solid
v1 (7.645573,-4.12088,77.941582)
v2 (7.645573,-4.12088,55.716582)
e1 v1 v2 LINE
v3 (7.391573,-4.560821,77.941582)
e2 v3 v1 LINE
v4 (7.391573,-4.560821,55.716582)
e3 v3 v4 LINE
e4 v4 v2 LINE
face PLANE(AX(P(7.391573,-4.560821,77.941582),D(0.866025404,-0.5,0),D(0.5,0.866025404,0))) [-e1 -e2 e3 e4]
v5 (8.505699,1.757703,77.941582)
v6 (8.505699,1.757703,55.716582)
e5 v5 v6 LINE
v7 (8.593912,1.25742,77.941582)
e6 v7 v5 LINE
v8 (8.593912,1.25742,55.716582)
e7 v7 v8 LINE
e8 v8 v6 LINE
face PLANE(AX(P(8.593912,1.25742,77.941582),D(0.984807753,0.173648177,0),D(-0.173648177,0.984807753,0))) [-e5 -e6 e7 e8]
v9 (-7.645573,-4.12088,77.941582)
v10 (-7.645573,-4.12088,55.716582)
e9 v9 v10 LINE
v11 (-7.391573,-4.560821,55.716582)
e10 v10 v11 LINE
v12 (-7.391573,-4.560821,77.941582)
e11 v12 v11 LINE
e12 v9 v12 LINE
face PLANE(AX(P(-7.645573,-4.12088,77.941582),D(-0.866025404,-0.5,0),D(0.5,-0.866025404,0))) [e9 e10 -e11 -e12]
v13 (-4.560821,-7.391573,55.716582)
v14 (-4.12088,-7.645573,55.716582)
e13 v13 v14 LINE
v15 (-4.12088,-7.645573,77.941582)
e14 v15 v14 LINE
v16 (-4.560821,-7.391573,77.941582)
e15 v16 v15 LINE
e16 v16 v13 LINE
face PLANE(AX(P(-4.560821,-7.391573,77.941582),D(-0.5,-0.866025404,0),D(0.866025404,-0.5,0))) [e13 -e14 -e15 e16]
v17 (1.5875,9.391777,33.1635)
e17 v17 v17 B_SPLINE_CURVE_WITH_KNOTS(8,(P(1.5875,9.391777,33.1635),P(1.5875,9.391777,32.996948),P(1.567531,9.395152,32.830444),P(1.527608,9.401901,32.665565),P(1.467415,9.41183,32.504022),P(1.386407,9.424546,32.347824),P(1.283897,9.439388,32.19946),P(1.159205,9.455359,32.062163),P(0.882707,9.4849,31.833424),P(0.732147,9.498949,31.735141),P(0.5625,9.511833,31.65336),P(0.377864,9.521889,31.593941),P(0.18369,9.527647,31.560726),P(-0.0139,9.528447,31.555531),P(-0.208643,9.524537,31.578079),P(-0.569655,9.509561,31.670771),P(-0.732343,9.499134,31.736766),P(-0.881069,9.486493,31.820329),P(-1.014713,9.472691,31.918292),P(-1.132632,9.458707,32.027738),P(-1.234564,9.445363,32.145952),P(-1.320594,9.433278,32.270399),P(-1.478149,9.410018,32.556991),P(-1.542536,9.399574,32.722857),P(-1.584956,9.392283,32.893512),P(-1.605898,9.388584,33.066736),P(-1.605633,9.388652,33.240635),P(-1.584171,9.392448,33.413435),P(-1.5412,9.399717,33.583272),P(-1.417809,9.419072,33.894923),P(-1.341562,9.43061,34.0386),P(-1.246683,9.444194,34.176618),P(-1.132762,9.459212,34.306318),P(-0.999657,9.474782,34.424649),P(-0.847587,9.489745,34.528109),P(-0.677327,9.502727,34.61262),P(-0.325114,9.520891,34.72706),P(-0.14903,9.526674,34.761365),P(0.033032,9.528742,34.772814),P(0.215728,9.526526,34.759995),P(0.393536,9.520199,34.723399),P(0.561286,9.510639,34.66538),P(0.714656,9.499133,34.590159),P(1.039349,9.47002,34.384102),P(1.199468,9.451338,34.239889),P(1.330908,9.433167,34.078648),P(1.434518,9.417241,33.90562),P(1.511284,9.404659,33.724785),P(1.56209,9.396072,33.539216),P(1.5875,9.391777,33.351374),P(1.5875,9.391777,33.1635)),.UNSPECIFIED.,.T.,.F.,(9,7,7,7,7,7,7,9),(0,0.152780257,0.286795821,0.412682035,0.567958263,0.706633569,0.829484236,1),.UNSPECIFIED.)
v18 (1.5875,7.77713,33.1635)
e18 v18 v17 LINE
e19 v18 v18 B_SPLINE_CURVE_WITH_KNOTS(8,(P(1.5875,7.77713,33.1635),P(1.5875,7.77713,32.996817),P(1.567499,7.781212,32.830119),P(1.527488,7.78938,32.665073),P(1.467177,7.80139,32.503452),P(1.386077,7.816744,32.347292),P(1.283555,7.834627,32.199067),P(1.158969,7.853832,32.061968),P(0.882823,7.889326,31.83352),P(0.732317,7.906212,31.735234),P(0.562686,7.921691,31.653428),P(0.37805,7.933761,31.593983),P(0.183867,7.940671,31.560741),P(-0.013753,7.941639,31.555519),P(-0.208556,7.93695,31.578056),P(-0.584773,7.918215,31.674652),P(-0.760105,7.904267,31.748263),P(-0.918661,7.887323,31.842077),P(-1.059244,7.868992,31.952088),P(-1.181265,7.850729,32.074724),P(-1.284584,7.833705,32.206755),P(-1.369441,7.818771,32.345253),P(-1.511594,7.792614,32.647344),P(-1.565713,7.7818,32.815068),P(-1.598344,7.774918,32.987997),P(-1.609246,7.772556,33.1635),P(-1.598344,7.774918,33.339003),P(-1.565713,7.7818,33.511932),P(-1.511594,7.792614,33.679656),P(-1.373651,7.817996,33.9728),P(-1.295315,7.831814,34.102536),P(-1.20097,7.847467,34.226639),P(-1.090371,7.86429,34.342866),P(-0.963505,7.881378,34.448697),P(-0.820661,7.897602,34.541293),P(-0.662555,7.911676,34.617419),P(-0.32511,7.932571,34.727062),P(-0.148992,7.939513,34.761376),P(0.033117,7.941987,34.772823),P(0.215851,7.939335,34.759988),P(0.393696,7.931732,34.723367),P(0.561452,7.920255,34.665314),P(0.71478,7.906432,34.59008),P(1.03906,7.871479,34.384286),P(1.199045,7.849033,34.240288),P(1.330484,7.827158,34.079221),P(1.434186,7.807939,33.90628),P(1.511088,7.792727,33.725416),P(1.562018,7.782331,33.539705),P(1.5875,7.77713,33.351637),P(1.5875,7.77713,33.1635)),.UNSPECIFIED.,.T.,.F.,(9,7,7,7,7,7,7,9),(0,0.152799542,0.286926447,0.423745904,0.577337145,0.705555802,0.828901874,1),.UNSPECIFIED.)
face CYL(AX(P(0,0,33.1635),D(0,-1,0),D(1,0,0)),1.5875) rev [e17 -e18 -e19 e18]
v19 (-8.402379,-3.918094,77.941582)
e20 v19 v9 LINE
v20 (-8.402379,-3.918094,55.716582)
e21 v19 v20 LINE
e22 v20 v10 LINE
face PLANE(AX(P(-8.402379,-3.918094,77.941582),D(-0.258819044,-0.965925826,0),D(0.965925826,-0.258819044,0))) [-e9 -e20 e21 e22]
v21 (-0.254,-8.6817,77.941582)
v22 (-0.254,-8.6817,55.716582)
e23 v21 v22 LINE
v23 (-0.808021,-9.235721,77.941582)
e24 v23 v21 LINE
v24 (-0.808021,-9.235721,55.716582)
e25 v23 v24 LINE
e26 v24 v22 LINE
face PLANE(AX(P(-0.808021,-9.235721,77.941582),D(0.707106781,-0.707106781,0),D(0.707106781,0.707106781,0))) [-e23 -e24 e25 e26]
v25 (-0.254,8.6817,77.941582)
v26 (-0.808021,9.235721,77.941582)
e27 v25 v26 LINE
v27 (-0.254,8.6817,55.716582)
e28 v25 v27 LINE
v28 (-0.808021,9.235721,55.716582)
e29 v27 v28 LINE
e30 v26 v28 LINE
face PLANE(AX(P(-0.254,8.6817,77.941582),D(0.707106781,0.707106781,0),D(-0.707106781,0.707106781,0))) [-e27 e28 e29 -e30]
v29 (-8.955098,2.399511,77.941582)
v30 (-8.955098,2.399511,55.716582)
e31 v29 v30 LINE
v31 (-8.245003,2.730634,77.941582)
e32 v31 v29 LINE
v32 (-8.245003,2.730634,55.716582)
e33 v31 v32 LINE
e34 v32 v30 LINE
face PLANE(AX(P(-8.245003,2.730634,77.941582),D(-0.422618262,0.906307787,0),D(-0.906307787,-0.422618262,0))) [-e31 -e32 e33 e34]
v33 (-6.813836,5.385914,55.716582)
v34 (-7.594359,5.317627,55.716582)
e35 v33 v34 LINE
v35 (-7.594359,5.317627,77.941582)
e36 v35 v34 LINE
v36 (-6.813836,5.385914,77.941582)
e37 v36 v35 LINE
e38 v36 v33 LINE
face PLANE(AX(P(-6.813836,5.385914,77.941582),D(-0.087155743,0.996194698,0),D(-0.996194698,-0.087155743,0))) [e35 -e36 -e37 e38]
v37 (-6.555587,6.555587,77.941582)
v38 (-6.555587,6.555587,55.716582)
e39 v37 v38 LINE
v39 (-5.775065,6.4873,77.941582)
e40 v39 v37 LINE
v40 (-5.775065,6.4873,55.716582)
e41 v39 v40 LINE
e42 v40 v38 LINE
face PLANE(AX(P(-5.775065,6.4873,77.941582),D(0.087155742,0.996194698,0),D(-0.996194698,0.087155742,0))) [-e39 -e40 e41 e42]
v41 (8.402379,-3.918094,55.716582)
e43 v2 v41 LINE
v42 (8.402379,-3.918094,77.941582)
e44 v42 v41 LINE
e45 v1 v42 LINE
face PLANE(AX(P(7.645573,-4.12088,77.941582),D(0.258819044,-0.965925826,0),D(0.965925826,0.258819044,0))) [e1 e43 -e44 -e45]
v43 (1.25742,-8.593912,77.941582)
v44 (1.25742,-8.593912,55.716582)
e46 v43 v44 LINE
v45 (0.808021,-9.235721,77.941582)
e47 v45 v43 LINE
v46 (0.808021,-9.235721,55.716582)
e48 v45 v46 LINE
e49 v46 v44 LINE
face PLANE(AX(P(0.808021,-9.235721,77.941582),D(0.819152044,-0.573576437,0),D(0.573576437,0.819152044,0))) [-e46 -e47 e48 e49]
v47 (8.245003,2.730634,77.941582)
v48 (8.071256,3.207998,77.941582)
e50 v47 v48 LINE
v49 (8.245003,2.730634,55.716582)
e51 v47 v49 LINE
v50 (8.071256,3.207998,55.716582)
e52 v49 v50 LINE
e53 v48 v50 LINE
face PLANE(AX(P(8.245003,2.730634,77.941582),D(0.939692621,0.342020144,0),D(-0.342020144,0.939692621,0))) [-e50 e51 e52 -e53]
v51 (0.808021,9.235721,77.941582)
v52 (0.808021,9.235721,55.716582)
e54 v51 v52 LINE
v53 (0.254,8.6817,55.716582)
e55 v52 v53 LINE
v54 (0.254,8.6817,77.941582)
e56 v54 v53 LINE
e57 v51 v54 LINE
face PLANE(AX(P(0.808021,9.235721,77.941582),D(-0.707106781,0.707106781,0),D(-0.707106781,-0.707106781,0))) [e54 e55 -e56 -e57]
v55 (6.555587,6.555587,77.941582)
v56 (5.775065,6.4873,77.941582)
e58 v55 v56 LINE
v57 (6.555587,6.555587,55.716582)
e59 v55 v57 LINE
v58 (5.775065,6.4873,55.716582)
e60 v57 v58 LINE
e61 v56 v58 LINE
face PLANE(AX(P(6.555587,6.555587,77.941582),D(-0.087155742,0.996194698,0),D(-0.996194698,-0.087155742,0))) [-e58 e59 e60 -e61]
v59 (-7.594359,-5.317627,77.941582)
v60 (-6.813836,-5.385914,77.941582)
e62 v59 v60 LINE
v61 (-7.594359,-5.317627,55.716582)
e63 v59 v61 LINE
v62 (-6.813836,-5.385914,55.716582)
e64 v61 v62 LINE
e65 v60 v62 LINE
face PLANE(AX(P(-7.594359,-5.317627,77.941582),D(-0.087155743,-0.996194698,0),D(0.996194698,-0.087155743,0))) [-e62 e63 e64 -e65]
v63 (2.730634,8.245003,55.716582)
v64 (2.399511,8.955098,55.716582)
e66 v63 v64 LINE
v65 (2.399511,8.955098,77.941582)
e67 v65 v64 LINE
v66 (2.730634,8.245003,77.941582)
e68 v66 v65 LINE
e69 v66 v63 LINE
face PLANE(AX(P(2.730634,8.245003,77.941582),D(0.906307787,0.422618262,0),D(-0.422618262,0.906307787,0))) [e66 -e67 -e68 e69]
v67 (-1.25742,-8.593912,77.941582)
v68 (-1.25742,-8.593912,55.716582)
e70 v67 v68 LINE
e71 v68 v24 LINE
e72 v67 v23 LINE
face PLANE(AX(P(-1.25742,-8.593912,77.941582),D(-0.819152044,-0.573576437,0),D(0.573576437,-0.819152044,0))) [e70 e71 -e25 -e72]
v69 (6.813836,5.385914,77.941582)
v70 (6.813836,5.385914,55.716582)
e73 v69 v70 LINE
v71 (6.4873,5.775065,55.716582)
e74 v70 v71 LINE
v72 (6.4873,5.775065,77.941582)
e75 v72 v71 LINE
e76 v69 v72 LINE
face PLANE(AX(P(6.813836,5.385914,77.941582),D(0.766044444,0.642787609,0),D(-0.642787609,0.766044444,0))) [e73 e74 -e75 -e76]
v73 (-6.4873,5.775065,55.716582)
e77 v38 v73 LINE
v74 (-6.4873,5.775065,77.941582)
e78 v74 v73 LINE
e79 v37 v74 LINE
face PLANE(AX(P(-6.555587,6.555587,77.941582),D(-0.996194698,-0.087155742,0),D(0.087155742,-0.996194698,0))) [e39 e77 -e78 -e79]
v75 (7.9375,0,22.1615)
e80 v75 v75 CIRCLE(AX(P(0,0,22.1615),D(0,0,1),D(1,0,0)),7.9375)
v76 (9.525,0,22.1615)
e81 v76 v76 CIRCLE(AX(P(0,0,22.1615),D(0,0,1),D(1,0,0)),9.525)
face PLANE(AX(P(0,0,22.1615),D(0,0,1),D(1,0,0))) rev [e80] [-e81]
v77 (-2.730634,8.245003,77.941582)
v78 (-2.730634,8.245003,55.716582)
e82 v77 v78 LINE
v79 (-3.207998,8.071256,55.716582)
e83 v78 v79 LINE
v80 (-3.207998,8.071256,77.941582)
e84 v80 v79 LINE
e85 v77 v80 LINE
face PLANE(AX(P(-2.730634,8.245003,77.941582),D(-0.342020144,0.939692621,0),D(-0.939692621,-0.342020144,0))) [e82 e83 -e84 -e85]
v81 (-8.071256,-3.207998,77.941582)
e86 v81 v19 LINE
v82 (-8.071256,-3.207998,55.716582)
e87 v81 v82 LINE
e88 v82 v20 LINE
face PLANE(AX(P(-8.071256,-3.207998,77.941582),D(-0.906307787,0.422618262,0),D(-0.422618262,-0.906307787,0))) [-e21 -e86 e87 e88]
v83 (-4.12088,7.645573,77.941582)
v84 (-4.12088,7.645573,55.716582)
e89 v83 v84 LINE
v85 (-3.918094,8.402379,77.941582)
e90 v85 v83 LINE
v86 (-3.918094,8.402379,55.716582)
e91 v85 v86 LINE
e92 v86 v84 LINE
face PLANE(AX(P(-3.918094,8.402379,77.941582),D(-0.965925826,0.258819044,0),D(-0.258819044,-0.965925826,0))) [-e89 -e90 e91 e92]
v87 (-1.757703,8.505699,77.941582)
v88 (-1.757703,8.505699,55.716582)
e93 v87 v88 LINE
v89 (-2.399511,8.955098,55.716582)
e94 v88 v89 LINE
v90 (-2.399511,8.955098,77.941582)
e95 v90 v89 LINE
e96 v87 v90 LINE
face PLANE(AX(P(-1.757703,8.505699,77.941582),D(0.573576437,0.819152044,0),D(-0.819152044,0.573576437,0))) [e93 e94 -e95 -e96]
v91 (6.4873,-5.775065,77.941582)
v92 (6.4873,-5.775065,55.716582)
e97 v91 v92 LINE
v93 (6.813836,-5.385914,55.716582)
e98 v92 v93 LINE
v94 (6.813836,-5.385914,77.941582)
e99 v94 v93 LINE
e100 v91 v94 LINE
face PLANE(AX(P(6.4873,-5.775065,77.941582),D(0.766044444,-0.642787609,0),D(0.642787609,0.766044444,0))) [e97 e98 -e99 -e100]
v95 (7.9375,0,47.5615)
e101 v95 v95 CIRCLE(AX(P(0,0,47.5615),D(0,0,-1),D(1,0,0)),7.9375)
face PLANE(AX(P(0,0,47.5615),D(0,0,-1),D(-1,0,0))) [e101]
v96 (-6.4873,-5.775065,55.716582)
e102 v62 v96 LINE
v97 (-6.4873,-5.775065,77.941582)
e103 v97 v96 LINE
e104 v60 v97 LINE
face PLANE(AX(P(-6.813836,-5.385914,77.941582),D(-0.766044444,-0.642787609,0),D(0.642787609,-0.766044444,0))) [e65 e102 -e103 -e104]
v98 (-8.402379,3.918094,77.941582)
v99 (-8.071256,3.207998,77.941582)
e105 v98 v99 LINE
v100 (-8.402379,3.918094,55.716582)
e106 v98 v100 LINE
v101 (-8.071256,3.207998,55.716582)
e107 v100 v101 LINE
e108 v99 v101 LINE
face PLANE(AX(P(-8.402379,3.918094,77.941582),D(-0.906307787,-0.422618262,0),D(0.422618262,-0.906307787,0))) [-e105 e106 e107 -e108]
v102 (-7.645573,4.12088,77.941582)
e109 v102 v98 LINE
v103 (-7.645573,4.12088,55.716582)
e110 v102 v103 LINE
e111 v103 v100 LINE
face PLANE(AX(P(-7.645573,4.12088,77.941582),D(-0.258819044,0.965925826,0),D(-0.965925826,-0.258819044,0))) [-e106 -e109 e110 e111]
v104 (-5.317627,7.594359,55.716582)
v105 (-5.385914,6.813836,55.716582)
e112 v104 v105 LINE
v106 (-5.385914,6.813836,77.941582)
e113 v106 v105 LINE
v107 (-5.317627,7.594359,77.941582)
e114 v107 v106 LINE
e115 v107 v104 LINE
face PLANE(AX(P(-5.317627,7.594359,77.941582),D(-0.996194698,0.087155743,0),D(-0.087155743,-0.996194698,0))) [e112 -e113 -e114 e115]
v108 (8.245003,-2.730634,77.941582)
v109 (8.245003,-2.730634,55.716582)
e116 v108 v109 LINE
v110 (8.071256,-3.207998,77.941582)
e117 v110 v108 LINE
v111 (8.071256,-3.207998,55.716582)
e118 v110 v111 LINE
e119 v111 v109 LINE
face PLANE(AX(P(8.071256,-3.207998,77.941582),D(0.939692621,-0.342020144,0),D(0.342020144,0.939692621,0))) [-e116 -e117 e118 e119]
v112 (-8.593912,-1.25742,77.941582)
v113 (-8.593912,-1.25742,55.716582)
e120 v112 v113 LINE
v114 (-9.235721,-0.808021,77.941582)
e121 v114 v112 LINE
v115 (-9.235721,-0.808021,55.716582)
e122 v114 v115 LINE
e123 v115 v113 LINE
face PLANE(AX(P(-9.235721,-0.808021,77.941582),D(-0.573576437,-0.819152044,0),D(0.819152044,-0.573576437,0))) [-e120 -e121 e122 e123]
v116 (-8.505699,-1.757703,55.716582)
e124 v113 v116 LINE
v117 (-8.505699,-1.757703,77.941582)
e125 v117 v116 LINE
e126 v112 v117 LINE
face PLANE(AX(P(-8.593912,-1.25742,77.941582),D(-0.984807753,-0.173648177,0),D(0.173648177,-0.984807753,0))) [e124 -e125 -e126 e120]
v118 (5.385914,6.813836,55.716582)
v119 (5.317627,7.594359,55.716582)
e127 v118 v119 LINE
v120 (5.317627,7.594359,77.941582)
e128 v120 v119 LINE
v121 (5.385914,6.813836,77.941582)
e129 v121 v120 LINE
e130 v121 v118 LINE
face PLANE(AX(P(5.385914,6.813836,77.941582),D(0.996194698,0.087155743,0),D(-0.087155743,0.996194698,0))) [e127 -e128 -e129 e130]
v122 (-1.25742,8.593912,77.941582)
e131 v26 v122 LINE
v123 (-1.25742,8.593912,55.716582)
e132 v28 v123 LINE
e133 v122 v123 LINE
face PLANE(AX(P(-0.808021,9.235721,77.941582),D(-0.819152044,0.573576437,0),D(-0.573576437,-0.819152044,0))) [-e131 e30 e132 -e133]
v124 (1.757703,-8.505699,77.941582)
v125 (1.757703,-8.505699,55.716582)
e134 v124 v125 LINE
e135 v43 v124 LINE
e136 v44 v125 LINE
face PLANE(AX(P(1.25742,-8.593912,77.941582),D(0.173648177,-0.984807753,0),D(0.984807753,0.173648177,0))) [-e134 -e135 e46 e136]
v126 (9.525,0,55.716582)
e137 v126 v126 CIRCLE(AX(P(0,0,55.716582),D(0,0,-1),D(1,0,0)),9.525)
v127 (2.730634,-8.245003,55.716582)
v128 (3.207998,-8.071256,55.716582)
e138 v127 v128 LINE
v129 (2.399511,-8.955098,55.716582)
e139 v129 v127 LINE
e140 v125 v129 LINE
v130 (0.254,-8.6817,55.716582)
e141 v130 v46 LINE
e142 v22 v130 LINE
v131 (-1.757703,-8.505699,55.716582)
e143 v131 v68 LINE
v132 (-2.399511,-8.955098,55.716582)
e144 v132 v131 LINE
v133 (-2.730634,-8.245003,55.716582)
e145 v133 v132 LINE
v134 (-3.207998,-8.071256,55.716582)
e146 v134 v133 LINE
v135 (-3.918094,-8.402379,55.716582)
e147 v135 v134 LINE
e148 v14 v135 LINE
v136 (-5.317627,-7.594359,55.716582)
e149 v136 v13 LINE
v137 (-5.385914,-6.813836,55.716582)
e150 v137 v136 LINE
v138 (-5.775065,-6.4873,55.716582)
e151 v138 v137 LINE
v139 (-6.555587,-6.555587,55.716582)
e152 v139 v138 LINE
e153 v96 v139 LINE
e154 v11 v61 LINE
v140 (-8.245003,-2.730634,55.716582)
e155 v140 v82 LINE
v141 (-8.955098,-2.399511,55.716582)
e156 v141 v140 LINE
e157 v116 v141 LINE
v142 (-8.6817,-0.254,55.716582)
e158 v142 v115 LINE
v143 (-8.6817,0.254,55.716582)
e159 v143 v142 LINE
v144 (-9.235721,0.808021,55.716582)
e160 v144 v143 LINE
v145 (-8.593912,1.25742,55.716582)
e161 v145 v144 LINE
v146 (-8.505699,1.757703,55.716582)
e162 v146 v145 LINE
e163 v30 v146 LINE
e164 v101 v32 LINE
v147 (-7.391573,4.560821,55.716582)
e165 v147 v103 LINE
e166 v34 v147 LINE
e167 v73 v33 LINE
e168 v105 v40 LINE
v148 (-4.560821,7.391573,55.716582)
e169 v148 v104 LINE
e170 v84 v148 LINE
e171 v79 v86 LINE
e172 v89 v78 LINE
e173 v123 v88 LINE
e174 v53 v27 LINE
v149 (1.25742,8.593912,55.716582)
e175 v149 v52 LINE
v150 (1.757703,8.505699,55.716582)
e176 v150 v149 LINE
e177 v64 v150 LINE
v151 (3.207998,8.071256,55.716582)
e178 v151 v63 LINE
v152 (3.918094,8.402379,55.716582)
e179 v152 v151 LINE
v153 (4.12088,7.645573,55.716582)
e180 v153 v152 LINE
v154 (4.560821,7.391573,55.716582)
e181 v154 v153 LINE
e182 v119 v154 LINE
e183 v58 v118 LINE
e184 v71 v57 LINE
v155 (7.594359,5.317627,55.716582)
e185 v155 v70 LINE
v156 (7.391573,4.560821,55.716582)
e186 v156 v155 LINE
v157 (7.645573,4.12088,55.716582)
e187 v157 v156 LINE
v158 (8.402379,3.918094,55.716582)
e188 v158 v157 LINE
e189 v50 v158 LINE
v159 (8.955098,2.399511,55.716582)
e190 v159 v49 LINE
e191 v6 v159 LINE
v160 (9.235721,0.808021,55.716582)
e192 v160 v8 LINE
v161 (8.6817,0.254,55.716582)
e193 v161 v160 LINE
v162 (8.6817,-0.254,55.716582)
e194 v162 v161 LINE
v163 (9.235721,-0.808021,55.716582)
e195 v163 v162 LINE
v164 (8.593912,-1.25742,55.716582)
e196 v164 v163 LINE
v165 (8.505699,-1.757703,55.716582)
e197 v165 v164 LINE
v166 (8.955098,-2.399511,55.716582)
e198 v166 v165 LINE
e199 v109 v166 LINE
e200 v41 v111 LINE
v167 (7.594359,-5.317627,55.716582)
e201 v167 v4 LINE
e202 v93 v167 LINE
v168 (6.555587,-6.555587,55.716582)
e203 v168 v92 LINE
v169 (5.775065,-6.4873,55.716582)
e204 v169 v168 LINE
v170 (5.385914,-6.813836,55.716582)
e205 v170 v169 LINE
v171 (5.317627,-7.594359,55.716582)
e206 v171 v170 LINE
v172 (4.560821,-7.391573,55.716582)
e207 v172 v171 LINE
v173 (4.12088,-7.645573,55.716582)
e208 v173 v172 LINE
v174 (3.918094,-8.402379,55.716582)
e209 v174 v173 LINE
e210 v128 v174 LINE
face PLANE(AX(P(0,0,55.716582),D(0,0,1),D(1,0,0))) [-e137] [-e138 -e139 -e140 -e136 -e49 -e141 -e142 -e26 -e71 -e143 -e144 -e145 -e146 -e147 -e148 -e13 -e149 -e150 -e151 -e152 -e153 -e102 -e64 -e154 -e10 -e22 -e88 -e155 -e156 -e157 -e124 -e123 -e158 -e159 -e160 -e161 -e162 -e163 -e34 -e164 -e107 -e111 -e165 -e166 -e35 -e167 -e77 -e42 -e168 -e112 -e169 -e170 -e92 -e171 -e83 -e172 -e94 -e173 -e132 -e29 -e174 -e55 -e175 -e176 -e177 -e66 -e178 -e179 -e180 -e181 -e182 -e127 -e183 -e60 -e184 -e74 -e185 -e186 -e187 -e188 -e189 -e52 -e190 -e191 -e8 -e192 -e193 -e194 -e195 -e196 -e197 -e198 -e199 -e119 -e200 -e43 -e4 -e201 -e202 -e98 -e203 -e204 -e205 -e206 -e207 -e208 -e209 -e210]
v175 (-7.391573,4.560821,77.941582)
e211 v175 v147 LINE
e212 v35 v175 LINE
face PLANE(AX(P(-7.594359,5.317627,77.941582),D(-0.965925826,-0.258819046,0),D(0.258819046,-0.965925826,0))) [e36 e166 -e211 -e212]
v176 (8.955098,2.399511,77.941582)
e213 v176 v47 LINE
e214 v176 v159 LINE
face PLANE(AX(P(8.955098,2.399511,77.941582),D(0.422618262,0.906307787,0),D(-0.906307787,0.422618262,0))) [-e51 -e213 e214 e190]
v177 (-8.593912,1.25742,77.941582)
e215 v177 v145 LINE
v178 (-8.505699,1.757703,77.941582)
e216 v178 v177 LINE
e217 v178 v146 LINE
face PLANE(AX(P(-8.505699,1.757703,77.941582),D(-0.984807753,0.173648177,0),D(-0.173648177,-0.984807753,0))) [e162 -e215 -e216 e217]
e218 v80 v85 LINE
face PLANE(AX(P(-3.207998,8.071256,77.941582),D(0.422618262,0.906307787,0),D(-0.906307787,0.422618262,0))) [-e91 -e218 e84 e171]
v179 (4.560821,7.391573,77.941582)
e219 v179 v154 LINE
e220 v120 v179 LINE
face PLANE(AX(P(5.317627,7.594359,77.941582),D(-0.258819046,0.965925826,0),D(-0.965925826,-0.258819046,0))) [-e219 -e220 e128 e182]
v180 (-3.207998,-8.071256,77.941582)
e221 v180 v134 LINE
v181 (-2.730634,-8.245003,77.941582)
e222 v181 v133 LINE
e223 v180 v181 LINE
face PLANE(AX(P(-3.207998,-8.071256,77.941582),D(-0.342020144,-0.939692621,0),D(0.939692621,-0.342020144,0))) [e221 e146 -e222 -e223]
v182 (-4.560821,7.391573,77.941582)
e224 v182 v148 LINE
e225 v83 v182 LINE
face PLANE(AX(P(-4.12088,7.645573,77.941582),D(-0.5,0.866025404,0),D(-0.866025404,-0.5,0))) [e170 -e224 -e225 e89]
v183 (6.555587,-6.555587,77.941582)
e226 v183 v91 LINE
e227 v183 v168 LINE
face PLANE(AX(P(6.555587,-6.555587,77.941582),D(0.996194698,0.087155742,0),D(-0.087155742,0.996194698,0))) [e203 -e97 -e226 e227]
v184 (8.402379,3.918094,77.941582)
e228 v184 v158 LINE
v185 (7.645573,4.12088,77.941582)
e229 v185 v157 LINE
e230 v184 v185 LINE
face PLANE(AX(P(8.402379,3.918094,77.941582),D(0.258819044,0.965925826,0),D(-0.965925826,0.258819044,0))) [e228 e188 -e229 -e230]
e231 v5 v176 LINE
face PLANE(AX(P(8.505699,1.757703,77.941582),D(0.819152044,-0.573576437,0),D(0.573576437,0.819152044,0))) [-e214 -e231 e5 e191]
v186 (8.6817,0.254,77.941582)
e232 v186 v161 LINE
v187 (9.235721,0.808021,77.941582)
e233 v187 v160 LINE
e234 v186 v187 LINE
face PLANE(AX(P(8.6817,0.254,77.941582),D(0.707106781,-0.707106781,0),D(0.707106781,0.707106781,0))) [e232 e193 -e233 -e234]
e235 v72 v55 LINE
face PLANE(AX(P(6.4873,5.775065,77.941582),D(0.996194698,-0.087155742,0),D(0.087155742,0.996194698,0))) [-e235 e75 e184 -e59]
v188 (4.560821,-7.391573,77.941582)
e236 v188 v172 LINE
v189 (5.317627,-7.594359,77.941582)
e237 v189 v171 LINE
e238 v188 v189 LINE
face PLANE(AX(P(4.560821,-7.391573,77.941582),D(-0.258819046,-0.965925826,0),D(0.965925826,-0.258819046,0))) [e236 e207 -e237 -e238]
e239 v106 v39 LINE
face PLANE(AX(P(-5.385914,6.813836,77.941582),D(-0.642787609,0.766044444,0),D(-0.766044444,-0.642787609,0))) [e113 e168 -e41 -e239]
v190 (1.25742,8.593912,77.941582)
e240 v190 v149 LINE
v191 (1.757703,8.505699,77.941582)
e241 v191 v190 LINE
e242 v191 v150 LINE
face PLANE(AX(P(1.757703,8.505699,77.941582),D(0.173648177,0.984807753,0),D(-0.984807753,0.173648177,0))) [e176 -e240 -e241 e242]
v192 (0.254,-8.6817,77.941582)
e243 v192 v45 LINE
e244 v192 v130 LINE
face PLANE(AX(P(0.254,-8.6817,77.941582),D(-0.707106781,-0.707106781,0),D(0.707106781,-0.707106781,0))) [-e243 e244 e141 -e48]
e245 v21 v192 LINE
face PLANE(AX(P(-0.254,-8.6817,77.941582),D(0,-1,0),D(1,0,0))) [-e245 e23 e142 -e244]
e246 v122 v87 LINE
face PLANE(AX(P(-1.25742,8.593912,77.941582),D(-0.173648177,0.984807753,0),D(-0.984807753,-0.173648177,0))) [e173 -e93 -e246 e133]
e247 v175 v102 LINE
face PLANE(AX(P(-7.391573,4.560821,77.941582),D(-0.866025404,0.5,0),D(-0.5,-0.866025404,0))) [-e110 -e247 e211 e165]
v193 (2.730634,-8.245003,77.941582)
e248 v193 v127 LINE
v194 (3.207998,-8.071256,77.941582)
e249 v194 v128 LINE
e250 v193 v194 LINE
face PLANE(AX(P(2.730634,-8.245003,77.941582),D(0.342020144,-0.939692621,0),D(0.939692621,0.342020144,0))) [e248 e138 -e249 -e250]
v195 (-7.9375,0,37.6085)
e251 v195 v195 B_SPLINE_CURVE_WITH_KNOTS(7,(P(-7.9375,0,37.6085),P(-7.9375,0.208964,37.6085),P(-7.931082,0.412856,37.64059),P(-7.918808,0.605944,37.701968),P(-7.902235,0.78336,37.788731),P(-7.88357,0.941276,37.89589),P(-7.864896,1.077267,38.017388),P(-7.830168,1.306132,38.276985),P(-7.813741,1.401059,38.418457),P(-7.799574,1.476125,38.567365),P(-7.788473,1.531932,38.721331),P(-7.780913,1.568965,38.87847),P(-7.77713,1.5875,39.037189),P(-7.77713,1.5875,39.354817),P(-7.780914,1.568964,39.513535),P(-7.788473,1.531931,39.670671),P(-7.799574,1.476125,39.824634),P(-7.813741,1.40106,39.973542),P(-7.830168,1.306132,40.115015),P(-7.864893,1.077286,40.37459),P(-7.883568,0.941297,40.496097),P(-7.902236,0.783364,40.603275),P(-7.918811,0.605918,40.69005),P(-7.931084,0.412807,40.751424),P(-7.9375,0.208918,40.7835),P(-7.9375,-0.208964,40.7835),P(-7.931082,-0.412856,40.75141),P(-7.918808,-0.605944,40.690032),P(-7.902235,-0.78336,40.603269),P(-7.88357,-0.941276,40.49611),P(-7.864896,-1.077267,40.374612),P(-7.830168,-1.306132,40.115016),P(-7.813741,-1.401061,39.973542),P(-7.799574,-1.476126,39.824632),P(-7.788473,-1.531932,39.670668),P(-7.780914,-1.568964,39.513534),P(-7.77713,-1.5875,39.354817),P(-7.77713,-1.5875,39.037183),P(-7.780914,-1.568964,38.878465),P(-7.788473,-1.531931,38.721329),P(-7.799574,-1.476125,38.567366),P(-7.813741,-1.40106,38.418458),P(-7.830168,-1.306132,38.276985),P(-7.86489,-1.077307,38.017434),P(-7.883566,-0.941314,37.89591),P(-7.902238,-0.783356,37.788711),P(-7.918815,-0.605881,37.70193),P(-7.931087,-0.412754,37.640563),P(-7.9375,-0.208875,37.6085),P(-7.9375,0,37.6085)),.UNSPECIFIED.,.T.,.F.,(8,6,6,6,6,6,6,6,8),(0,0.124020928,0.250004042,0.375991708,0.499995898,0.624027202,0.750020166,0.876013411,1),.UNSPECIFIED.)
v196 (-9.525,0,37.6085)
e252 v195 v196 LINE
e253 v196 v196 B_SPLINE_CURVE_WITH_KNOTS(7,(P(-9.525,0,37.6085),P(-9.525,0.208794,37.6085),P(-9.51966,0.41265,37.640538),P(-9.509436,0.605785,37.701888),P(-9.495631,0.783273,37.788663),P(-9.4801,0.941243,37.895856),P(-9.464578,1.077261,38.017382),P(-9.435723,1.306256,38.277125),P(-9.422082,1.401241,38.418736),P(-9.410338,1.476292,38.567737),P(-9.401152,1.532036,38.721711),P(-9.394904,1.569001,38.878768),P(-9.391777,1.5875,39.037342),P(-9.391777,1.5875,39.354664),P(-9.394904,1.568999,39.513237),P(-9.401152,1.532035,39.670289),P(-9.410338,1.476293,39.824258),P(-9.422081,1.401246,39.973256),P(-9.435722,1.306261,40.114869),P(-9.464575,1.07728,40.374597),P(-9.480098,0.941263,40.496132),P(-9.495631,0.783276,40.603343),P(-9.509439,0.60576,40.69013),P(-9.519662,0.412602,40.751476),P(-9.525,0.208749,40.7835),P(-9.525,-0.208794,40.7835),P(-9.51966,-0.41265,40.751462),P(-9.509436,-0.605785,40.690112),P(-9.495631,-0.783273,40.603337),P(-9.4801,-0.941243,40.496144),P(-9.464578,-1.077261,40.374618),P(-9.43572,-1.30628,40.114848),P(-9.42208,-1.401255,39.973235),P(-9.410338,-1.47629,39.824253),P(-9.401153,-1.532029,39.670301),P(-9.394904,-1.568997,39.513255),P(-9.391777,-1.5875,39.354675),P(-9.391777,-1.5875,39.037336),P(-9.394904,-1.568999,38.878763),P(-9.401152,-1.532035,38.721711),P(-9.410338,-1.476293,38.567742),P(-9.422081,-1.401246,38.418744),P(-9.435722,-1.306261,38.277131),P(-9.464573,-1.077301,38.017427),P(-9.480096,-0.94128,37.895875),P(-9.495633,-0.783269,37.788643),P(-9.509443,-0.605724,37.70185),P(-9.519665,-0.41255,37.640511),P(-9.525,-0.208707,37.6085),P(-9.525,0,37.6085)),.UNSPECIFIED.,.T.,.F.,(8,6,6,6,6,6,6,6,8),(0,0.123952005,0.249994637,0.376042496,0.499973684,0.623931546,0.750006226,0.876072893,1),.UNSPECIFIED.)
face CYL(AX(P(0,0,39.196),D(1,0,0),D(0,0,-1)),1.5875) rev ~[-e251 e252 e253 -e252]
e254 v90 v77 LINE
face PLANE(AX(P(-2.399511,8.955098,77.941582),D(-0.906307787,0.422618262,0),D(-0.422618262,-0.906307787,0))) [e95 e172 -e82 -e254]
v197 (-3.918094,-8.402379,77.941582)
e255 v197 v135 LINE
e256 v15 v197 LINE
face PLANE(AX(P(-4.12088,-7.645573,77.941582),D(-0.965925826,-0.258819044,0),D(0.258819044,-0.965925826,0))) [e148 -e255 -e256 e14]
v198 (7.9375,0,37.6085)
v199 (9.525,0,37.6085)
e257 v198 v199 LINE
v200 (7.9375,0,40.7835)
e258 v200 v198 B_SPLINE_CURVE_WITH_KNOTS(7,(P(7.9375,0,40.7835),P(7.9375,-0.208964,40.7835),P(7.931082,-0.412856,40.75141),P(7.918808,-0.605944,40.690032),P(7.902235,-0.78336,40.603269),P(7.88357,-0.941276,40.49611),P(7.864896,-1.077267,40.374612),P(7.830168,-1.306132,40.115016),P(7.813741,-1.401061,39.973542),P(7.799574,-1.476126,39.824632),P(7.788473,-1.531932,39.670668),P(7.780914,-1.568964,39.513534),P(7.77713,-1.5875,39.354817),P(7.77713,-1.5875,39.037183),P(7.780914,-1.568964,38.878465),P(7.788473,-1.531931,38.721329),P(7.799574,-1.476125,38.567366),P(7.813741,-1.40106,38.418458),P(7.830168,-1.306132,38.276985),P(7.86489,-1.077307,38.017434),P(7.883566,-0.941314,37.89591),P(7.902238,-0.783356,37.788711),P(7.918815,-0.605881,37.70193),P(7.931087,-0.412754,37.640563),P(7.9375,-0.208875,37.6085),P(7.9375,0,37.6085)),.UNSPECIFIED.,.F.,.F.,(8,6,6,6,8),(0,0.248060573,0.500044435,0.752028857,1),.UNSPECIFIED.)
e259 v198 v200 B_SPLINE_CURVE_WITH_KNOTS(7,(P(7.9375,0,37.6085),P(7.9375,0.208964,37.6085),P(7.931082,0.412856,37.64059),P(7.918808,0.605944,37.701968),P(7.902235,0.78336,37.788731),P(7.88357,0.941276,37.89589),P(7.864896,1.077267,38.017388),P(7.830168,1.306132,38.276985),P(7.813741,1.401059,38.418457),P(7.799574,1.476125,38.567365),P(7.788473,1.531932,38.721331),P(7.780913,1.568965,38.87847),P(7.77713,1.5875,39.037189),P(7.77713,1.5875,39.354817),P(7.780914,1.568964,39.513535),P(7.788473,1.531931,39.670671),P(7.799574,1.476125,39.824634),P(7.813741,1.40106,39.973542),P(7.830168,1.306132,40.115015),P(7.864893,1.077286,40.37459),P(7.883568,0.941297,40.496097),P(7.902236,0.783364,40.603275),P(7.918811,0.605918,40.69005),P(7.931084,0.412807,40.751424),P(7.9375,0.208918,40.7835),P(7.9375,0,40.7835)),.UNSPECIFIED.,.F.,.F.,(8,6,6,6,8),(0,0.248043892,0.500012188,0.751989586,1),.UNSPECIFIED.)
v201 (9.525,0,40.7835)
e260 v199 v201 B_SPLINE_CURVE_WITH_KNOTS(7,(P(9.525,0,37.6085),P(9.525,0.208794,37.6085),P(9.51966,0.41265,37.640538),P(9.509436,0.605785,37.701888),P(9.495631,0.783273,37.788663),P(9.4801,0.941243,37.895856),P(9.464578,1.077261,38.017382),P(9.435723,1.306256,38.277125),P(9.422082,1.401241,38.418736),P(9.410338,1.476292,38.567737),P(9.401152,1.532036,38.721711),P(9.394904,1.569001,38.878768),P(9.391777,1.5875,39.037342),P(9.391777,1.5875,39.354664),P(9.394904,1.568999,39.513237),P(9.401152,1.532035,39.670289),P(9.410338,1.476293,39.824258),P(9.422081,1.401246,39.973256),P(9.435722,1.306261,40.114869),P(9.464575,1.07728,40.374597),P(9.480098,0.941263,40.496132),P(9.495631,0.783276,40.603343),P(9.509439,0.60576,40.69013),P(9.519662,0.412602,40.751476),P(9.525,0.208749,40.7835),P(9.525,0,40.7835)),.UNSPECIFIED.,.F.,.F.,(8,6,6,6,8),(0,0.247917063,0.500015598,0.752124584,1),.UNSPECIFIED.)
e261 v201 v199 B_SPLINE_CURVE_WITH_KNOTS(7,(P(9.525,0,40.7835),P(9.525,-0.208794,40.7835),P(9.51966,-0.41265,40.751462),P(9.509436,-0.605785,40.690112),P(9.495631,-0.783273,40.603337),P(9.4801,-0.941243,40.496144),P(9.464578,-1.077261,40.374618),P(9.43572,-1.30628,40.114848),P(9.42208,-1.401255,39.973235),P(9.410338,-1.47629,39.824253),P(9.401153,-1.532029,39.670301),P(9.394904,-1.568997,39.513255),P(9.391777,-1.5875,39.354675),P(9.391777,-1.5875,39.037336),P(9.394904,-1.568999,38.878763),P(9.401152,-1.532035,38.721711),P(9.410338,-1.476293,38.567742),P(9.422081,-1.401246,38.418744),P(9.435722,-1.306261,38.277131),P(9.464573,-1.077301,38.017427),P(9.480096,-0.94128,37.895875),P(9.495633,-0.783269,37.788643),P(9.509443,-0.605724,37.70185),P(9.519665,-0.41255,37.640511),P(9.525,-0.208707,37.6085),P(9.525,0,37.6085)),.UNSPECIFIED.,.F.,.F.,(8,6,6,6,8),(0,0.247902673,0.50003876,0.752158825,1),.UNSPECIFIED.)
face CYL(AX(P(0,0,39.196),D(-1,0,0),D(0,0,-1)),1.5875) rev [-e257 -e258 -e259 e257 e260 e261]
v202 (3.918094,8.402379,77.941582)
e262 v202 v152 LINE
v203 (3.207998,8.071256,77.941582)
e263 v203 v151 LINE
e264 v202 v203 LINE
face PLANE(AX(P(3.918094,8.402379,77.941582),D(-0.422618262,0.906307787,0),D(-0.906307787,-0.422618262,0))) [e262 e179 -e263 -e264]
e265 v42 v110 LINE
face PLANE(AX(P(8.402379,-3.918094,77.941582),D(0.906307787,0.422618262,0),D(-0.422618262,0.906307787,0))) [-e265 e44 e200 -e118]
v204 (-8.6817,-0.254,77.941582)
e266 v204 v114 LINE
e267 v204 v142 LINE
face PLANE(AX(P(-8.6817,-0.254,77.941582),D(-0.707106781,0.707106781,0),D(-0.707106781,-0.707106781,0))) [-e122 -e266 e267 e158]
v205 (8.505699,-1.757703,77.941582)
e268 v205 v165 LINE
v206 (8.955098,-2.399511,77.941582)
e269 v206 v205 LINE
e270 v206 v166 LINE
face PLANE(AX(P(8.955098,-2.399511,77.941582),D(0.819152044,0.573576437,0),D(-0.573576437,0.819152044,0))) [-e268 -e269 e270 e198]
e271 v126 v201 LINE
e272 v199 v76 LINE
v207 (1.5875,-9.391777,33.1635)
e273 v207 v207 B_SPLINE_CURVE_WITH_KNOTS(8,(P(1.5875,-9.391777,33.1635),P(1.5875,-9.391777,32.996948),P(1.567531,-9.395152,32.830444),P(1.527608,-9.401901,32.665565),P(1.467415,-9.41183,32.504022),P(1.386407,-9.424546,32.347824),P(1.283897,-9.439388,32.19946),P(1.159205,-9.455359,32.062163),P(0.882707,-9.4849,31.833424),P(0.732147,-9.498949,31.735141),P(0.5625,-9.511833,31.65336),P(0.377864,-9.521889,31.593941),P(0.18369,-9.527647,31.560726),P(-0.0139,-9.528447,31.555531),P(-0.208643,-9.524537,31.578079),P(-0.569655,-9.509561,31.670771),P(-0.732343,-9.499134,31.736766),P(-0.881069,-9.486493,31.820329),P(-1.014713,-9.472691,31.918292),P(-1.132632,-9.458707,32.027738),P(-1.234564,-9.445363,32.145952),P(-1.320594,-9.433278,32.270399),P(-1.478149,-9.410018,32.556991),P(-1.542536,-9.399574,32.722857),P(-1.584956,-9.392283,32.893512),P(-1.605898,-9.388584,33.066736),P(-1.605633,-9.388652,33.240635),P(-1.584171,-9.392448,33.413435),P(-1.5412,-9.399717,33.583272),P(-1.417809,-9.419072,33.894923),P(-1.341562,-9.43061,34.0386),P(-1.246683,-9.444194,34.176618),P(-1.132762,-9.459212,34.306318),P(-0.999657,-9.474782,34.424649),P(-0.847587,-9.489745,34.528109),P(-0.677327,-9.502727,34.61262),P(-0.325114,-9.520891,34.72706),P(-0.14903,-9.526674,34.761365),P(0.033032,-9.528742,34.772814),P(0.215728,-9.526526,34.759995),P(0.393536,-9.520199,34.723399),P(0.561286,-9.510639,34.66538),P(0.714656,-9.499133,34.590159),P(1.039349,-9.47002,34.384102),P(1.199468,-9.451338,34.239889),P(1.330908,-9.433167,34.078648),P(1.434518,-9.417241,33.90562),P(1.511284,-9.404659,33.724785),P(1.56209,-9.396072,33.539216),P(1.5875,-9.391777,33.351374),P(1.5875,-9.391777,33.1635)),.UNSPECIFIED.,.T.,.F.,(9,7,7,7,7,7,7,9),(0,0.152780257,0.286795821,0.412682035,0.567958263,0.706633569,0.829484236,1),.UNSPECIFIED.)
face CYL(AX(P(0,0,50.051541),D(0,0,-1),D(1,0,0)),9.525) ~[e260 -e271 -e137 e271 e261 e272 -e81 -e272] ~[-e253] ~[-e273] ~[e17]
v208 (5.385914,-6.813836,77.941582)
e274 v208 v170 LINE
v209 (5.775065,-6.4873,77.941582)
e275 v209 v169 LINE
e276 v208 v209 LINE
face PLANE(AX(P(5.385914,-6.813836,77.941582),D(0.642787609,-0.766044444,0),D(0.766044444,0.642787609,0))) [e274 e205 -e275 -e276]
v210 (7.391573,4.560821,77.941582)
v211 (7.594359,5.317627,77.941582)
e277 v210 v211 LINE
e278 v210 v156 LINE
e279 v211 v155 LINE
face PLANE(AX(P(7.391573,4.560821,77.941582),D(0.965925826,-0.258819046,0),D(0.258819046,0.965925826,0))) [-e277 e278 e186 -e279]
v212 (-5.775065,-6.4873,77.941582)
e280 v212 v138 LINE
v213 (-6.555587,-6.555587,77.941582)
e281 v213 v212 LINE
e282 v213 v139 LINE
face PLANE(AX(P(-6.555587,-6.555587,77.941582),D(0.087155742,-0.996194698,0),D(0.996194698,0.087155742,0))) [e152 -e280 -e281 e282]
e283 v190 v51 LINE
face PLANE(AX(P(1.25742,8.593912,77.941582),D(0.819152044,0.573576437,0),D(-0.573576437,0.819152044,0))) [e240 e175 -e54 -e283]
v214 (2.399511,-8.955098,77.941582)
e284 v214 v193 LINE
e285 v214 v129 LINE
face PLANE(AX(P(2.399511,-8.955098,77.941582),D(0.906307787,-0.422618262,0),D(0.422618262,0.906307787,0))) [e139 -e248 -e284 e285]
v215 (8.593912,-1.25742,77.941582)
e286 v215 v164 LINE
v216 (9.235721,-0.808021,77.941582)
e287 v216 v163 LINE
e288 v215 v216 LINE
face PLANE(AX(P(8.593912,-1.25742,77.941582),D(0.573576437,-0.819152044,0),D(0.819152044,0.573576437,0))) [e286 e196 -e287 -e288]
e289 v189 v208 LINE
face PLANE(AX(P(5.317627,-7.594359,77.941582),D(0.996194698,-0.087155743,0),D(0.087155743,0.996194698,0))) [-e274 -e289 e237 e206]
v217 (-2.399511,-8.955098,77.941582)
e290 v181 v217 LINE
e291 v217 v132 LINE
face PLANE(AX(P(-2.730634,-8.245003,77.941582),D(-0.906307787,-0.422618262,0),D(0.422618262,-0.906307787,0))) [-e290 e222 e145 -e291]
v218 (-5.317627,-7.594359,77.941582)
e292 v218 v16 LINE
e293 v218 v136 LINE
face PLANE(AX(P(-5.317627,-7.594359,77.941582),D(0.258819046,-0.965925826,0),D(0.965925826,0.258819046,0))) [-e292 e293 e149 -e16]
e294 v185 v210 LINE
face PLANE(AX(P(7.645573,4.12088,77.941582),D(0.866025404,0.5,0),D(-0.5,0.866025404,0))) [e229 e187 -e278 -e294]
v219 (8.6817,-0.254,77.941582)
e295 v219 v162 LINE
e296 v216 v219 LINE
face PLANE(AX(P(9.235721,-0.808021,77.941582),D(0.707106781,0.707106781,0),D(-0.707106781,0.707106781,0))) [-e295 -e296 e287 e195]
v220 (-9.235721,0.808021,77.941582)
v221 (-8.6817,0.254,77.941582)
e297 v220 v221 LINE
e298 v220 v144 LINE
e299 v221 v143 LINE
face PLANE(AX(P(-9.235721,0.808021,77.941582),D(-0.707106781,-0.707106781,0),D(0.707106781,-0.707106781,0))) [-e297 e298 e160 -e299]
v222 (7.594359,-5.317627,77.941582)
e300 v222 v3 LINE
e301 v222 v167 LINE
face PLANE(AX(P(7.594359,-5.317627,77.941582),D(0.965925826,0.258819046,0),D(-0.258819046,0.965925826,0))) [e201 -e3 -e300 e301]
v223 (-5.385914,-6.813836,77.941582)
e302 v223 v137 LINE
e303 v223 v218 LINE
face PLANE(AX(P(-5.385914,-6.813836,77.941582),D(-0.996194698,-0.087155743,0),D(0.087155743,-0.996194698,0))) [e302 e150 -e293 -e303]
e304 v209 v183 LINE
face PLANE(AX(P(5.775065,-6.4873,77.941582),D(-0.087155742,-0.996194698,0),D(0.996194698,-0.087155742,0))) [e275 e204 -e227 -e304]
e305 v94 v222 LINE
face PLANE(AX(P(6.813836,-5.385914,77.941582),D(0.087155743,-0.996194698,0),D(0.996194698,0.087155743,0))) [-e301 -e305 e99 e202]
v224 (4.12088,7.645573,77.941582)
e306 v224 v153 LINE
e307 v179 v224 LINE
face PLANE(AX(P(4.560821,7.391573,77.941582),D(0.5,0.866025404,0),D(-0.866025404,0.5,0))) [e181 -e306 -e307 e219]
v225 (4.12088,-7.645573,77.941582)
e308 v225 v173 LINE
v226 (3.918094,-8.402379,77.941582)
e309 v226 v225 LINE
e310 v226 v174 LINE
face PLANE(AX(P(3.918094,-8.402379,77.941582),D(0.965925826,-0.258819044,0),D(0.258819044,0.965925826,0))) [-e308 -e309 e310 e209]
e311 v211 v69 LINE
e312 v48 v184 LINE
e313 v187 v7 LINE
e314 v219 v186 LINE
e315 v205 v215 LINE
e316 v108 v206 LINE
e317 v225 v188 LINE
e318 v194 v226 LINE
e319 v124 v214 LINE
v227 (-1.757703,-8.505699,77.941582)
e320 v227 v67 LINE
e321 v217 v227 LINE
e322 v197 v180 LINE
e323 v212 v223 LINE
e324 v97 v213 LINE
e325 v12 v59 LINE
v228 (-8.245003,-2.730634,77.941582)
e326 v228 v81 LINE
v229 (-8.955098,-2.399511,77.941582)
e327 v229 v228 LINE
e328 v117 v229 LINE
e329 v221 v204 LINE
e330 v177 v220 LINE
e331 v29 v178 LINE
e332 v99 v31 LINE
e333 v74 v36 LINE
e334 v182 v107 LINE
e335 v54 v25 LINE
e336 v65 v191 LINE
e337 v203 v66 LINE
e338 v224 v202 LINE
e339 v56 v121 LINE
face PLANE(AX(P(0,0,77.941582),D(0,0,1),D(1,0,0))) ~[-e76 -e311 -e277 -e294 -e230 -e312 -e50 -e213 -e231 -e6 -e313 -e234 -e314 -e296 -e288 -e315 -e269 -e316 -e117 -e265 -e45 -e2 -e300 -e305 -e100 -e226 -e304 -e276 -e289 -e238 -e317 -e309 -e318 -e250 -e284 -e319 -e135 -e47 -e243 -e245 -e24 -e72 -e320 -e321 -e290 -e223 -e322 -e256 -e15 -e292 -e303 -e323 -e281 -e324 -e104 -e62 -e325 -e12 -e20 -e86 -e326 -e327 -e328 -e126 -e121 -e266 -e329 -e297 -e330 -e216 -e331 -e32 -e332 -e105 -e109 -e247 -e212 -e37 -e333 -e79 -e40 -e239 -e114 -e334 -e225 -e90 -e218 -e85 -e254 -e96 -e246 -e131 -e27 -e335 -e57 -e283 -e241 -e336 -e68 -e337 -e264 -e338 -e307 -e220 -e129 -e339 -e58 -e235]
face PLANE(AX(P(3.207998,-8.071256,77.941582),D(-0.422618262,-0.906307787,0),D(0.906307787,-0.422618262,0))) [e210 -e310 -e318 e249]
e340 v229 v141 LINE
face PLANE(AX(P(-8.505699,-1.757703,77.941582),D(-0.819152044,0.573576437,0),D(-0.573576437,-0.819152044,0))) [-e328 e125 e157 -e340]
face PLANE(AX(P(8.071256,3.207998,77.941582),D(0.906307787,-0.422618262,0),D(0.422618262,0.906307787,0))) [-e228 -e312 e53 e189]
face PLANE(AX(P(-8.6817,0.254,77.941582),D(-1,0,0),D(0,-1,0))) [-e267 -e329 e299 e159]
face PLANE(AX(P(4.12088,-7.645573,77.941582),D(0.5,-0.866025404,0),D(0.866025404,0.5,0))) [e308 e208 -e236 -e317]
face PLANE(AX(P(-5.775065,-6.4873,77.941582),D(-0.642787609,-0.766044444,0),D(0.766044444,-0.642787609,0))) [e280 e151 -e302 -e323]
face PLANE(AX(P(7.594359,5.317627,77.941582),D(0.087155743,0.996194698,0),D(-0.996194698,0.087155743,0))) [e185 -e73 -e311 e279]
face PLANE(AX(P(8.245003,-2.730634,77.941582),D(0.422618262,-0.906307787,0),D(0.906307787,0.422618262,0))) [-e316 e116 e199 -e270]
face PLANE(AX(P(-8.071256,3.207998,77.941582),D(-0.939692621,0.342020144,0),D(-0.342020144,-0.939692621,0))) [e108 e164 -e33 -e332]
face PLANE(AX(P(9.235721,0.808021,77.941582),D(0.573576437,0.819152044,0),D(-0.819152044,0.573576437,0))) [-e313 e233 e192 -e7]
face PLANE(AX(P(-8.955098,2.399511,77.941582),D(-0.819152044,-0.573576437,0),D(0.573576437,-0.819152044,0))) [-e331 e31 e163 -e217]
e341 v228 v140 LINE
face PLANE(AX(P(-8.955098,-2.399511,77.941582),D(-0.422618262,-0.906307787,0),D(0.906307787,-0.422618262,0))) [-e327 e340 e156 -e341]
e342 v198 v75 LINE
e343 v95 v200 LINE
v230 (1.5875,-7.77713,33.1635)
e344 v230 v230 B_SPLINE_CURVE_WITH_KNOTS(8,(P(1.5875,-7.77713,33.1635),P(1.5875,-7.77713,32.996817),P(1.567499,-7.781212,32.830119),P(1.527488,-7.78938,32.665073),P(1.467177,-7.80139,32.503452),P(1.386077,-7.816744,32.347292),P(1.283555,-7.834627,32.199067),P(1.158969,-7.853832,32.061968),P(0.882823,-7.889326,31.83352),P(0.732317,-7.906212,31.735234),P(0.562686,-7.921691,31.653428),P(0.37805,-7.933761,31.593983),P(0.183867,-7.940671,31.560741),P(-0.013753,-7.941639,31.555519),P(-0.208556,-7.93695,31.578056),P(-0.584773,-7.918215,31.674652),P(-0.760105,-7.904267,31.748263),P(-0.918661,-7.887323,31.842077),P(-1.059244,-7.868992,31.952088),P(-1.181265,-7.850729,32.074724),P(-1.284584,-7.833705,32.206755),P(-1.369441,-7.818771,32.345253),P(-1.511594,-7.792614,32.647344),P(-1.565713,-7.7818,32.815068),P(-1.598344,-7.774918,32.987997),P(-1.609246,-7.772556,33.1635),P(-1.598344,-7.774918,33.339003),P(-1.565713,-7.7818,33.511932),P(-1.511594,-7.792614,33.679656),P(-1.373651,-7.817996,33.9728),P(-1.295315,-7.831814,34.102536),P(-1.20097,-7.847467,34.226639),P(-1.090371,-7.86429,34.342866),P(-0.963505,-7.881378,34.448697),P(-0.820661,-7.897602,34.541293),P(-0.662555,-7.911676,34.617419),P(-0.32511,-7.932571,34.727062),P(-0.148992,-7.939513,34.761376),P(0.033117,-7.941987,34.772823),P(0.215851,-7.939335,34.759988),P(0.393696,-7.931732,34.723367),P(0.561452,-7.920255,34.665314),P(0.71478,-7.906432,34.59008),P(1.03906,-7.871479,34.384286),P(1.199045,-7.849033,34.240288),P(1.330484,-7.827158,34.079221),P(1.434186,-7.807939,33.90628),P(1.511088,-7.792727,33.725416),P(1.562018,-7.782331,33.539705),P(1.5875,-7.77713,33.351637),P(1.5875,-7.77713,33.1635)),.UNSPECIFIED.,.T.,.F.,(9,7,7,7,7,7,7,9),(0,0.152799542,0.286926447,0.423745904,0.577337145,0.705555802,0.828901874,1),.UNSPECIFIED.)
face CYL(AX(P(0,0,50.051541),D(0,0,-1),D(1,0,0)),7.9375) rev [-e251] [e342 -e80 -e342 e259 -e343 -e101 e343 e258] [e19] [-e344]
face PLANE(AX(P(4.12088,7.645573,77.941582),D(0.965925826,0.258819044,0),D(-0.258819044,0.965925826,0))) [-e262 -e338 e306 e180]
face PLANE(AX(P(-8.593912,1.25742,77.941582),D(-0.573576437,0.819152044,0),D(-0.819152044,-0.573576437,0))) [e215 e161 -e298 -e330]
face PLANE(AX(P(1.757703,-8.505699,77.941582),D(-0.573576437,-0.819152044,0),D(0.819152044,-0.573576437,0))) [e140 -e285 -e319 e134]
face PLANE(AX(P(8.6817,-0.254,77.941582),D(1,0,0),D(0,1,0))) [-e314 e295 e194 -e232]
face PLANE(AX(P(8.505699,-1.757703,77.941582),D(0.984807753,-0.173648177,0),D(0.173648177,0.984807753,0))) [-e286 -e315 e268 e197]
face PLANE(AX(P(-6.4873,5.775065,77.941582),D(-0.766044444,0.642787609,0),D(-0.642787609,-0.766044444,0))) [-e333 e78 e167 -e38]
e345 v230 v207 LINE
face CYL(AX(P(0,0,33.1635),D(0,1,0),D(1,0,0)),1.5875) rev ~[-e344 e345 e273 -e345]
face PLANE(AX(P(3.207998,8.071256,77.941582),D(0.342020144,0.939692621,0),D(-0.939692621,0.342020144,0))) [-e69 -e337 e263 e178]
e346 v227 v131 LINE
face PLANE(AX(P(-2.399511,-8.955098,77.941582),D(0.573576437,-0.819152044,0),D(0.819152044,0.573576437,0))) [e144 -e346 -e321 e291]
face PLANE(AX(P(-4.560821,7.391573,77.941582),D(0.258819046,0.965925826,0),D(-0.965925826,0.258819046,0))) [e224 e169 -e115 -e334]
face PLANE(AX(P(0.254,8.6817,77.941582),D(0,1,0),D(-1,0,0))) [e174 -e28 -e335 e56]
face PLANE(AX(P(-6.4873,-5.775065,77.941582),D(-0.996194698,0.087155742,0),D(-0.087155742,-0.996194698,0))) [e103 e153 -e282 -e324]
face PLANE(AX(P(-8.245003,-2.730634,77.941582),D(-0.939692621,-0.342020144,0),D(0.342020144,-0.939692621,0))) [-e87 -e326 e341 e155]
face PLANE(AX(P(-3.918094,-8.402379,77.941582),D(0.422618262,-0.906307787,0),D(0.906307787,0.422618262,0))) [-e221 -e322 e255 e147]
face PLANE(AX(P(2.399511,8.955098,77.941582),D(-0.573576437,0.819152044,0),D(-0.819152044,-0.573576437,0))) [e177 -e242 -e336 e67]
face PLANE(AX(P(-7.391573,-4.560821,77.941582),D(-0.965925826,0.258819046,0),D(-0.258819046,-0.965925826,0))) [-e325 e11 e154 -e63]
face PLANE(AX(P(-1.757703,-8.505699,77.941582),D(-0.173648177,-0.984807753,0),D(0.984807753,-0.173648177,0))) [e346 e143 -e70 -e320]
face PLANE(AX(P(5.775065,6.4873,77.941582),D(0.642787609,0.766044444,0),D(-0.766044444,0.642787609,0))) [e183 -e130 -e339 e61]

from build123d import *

# Parameters (mm, degrees)
SKETCH5_W               = 1.587499994
SKETCH5_H               = 55.780081988
SKETCH7_R               = 1.5875
CUT_EXTRUDE5_DEPTH      = 10.524999994
CUT_EXTRUDE5_DEPTH_BACK = 10.524999994
SKETCH6_R               = 1.5875
CUT_EXTRUDE6_DEPTH      = 10.525000094
CUT_EXTRUDE6_DEPTH_BACK = 10.525000094
CUT_EXTRUDE7_START      = 77.941582
SKETCH8_R               = 12.7
CUT_EXTRUDE7_DEPTH      = 22.225
SKETCH10_R              = 7.9375
BOSS_EXTRUDE1_DEPTH     = 30.380082


with BuildPart() as part:
    # Sketch5 → Revolve2 (revolve)
    with BuildSketch(Plane(origin=(0, 0, 0), x_dir=(1, 0, 0), z_dir=(0, 1, 0))):
        with Locations((8.731249997, -50.051540994)):
            Rectangle(SKETCH5_W, SKETCH5_H)
    revolve(axis=Axis((0, 0, 0), (0, 0, 1)))

    # Sketch7 → Cut-Extrude5 (cut, two sides)
    with BuildSketch(Plane(origin=(0, 0, 0), x_dir=(0, 0, -1), z_dir=(1, 0, 0))) as cut_extrude5_sk:
        with Locations((-39.195999993, 0)):
            Circle(SKETCH7_R)
    extrude(amount=CUT_EXTRUDE5_DEPTH, mode=Mode.SUBTRACT)
    extrude(cut_extrude5_sk.sketch, amount=-CUT_EXTRUDE5_DEPTH_BACK, mode=Mode.SUBTRACT)

    # Sketch6 → Cut-Extrude6 (cut, two sides)
    with BuildSketch(Plane(origin=(0, 0, 0), x_dir=(1, 0, 0), z_dir=(0, 1, 0))) as cut_extrude6_sk:
        with Locations((1e-09, -33.163499999)):
            Circle(SKETCH6_R)
    extrude(amount=CUT_EXTRUDE6_DEPTH, mode=Mode.SUBTRACT)
    extrude(cut_extrude6_sk.sketch, amount=-CUT_EXTRUDE6_DEPTH_BACK, mode=Mode.SUBTRACT)

    # Sketch8 → Cut-Extrude7 (cut)
    with BuildSketch(Plane.XY.offset(CUT_EXTRUDE7_START)):
        Circle(SKETCH8_R)
        Polygon((9.235721046, -0.808020891), (8.681700155, -0.254), (8.681700155, 0.254), (9.235721046, 0.808020891), (8.593912259, 1.257420242), (8.505698985, 1.75770258), (8.955098336, 2.399511367), (8.245002688, 2.730634406), (8.071256455, 3.207998257), (8.402379494, 3.918093905), (7.645572882, 4.120879625), (7.391572882, 4.56082053), (7.594358603, 5.317627141), (6.813836213, 5.385914002), (6.487300108, 5.775064579), (6.555586968, 6.555586968), (5.775064579, 6.487300108), (5.385914002, 6.813836213), (5.317627141, 7.594358603), (4.56082053, 7.391572882), (4.120879625, 7.645572882), (3.918093905, 8.402379494), (3.207998257, 8.071256455), (2.730634406, 8.245002688), (2.399511367, 8.955098336), (1.75770258, 8.505698985), (1.257420242, 8.593912259), (0.808020891, 9.235721046), (0.254, 8.681700155), (-0.254, 8.681700155), (-0.808020891, 9.235721046), (-1.257420242, 8.593912259), (-1.75770258, 8.505698985), (-2.399511367, 8.955098336), (-2.730634406, 8.245002688), (-3.207998257, 8.071256455), (-3.918093905, 8.402379494), (-4.120879625, 7.645572882), (-4.56082053, 7.391572882), (-5.317627141, 7.594358603), (-5.385914002, 6.813836213), (-5.775064579, 6.487300108), (-6.555586968, 6.555586968), (-6.487300108, 5.775064579), (-6.813836213, 5.385914002), (-7.594358603, 5.317627141), (-7.391572882, 4.56082053), (-7.645572882, 4.120879625), (-8.402379494, 3.918093905), (-8.071256455, 3.207998257), (-8.245002688, 2.730634406), (-8.955098336, 2.399511367), (-8.505698985, 1.75770258), (-8.593912259, 1.257420242), (-9.235721046, 0.808020891), (-8.681700155, 0.254), (-8.681700155, -0.254), (-9.235721046, -0.808020891), (-8.593912259, -1.257420242), (-8.505698985, -1.75770258), (-8.955098336, -2.399511367), (-8.245002688, -2.730634406), (-8.071256455, -3.207998257), (-8.402379494, -3.918093905), (-7.645572882, -4.120879625), (-7.391572882, -4.56082053), (-7.594358603, -5.317627141), (-6.813836213, -5.385914002), (-6.487300108, -5.775064579), (-6.555586968, -6.555586968), (-5.775064579, -6.487300108), (-5.385914002, -6.813836213), (-5.317627141, -7.594358603), (-4.56082053, -7.391572882), (-4.120879625, -7.645572882), (-3.918093905, -8.402379494), (-3.207998257, -8.071256455), (-2.730634406, -8.245002688), (-2.399511367, -8.955098336), (-1.75770258, -8.505698985), (-1.257420242, -8.593912259), (-0.808020891, -9.235721046), (-0.254, -8.681700155), (0.254, -8.681700155), (0.808020891, -9.235721046), (1.257420242, -8.593912259), (1.75770258, -8.505698985), (2.399511367, -8.955098336), (2.730634406, -8.245002688), (3.207998257, -8.071256455), (3.918093905, -8.402379494), (4.120879625, -7.645572882), (4.56082053, -7.391572882), (5.317627141, -7.594358603), (5.385914002, -6.813836213), (5.775064579, -6.487300108), (6.555586968, -6.555586968), (6.487300108, -5.775064579), (6.813836213, -5.385914002), (7.594358603, -5.317627141), (7.391572882, -4.56082053), (7.645572882, -4.120879625), (8.402379494, -3.918093905), (8.071256455, -3.207998257), (8.245002688, -2.730634406), (8.955098336, -2.399511367), (8.505698985, -1.75770258), (8.593912259, -1.257420242), align=None, mode=Mode.SUBTRACT)
    extrude(amount=-CUT_EXTRUDE7_DEPTH, mode=Mode.SUBTRACT)

    # Sketch10 → Boss-Extrude1 (add)
    with BuildSketch(Plane(origin=(0, 0, 47.5615), x_dir=(-1, 0, 0), z_dir=(0, 0, -1))):
        Circle(SKETCH10_R)
    extrude(amount=-BOSS_EXTRUDE1_DEPTH)


solid = part.part
